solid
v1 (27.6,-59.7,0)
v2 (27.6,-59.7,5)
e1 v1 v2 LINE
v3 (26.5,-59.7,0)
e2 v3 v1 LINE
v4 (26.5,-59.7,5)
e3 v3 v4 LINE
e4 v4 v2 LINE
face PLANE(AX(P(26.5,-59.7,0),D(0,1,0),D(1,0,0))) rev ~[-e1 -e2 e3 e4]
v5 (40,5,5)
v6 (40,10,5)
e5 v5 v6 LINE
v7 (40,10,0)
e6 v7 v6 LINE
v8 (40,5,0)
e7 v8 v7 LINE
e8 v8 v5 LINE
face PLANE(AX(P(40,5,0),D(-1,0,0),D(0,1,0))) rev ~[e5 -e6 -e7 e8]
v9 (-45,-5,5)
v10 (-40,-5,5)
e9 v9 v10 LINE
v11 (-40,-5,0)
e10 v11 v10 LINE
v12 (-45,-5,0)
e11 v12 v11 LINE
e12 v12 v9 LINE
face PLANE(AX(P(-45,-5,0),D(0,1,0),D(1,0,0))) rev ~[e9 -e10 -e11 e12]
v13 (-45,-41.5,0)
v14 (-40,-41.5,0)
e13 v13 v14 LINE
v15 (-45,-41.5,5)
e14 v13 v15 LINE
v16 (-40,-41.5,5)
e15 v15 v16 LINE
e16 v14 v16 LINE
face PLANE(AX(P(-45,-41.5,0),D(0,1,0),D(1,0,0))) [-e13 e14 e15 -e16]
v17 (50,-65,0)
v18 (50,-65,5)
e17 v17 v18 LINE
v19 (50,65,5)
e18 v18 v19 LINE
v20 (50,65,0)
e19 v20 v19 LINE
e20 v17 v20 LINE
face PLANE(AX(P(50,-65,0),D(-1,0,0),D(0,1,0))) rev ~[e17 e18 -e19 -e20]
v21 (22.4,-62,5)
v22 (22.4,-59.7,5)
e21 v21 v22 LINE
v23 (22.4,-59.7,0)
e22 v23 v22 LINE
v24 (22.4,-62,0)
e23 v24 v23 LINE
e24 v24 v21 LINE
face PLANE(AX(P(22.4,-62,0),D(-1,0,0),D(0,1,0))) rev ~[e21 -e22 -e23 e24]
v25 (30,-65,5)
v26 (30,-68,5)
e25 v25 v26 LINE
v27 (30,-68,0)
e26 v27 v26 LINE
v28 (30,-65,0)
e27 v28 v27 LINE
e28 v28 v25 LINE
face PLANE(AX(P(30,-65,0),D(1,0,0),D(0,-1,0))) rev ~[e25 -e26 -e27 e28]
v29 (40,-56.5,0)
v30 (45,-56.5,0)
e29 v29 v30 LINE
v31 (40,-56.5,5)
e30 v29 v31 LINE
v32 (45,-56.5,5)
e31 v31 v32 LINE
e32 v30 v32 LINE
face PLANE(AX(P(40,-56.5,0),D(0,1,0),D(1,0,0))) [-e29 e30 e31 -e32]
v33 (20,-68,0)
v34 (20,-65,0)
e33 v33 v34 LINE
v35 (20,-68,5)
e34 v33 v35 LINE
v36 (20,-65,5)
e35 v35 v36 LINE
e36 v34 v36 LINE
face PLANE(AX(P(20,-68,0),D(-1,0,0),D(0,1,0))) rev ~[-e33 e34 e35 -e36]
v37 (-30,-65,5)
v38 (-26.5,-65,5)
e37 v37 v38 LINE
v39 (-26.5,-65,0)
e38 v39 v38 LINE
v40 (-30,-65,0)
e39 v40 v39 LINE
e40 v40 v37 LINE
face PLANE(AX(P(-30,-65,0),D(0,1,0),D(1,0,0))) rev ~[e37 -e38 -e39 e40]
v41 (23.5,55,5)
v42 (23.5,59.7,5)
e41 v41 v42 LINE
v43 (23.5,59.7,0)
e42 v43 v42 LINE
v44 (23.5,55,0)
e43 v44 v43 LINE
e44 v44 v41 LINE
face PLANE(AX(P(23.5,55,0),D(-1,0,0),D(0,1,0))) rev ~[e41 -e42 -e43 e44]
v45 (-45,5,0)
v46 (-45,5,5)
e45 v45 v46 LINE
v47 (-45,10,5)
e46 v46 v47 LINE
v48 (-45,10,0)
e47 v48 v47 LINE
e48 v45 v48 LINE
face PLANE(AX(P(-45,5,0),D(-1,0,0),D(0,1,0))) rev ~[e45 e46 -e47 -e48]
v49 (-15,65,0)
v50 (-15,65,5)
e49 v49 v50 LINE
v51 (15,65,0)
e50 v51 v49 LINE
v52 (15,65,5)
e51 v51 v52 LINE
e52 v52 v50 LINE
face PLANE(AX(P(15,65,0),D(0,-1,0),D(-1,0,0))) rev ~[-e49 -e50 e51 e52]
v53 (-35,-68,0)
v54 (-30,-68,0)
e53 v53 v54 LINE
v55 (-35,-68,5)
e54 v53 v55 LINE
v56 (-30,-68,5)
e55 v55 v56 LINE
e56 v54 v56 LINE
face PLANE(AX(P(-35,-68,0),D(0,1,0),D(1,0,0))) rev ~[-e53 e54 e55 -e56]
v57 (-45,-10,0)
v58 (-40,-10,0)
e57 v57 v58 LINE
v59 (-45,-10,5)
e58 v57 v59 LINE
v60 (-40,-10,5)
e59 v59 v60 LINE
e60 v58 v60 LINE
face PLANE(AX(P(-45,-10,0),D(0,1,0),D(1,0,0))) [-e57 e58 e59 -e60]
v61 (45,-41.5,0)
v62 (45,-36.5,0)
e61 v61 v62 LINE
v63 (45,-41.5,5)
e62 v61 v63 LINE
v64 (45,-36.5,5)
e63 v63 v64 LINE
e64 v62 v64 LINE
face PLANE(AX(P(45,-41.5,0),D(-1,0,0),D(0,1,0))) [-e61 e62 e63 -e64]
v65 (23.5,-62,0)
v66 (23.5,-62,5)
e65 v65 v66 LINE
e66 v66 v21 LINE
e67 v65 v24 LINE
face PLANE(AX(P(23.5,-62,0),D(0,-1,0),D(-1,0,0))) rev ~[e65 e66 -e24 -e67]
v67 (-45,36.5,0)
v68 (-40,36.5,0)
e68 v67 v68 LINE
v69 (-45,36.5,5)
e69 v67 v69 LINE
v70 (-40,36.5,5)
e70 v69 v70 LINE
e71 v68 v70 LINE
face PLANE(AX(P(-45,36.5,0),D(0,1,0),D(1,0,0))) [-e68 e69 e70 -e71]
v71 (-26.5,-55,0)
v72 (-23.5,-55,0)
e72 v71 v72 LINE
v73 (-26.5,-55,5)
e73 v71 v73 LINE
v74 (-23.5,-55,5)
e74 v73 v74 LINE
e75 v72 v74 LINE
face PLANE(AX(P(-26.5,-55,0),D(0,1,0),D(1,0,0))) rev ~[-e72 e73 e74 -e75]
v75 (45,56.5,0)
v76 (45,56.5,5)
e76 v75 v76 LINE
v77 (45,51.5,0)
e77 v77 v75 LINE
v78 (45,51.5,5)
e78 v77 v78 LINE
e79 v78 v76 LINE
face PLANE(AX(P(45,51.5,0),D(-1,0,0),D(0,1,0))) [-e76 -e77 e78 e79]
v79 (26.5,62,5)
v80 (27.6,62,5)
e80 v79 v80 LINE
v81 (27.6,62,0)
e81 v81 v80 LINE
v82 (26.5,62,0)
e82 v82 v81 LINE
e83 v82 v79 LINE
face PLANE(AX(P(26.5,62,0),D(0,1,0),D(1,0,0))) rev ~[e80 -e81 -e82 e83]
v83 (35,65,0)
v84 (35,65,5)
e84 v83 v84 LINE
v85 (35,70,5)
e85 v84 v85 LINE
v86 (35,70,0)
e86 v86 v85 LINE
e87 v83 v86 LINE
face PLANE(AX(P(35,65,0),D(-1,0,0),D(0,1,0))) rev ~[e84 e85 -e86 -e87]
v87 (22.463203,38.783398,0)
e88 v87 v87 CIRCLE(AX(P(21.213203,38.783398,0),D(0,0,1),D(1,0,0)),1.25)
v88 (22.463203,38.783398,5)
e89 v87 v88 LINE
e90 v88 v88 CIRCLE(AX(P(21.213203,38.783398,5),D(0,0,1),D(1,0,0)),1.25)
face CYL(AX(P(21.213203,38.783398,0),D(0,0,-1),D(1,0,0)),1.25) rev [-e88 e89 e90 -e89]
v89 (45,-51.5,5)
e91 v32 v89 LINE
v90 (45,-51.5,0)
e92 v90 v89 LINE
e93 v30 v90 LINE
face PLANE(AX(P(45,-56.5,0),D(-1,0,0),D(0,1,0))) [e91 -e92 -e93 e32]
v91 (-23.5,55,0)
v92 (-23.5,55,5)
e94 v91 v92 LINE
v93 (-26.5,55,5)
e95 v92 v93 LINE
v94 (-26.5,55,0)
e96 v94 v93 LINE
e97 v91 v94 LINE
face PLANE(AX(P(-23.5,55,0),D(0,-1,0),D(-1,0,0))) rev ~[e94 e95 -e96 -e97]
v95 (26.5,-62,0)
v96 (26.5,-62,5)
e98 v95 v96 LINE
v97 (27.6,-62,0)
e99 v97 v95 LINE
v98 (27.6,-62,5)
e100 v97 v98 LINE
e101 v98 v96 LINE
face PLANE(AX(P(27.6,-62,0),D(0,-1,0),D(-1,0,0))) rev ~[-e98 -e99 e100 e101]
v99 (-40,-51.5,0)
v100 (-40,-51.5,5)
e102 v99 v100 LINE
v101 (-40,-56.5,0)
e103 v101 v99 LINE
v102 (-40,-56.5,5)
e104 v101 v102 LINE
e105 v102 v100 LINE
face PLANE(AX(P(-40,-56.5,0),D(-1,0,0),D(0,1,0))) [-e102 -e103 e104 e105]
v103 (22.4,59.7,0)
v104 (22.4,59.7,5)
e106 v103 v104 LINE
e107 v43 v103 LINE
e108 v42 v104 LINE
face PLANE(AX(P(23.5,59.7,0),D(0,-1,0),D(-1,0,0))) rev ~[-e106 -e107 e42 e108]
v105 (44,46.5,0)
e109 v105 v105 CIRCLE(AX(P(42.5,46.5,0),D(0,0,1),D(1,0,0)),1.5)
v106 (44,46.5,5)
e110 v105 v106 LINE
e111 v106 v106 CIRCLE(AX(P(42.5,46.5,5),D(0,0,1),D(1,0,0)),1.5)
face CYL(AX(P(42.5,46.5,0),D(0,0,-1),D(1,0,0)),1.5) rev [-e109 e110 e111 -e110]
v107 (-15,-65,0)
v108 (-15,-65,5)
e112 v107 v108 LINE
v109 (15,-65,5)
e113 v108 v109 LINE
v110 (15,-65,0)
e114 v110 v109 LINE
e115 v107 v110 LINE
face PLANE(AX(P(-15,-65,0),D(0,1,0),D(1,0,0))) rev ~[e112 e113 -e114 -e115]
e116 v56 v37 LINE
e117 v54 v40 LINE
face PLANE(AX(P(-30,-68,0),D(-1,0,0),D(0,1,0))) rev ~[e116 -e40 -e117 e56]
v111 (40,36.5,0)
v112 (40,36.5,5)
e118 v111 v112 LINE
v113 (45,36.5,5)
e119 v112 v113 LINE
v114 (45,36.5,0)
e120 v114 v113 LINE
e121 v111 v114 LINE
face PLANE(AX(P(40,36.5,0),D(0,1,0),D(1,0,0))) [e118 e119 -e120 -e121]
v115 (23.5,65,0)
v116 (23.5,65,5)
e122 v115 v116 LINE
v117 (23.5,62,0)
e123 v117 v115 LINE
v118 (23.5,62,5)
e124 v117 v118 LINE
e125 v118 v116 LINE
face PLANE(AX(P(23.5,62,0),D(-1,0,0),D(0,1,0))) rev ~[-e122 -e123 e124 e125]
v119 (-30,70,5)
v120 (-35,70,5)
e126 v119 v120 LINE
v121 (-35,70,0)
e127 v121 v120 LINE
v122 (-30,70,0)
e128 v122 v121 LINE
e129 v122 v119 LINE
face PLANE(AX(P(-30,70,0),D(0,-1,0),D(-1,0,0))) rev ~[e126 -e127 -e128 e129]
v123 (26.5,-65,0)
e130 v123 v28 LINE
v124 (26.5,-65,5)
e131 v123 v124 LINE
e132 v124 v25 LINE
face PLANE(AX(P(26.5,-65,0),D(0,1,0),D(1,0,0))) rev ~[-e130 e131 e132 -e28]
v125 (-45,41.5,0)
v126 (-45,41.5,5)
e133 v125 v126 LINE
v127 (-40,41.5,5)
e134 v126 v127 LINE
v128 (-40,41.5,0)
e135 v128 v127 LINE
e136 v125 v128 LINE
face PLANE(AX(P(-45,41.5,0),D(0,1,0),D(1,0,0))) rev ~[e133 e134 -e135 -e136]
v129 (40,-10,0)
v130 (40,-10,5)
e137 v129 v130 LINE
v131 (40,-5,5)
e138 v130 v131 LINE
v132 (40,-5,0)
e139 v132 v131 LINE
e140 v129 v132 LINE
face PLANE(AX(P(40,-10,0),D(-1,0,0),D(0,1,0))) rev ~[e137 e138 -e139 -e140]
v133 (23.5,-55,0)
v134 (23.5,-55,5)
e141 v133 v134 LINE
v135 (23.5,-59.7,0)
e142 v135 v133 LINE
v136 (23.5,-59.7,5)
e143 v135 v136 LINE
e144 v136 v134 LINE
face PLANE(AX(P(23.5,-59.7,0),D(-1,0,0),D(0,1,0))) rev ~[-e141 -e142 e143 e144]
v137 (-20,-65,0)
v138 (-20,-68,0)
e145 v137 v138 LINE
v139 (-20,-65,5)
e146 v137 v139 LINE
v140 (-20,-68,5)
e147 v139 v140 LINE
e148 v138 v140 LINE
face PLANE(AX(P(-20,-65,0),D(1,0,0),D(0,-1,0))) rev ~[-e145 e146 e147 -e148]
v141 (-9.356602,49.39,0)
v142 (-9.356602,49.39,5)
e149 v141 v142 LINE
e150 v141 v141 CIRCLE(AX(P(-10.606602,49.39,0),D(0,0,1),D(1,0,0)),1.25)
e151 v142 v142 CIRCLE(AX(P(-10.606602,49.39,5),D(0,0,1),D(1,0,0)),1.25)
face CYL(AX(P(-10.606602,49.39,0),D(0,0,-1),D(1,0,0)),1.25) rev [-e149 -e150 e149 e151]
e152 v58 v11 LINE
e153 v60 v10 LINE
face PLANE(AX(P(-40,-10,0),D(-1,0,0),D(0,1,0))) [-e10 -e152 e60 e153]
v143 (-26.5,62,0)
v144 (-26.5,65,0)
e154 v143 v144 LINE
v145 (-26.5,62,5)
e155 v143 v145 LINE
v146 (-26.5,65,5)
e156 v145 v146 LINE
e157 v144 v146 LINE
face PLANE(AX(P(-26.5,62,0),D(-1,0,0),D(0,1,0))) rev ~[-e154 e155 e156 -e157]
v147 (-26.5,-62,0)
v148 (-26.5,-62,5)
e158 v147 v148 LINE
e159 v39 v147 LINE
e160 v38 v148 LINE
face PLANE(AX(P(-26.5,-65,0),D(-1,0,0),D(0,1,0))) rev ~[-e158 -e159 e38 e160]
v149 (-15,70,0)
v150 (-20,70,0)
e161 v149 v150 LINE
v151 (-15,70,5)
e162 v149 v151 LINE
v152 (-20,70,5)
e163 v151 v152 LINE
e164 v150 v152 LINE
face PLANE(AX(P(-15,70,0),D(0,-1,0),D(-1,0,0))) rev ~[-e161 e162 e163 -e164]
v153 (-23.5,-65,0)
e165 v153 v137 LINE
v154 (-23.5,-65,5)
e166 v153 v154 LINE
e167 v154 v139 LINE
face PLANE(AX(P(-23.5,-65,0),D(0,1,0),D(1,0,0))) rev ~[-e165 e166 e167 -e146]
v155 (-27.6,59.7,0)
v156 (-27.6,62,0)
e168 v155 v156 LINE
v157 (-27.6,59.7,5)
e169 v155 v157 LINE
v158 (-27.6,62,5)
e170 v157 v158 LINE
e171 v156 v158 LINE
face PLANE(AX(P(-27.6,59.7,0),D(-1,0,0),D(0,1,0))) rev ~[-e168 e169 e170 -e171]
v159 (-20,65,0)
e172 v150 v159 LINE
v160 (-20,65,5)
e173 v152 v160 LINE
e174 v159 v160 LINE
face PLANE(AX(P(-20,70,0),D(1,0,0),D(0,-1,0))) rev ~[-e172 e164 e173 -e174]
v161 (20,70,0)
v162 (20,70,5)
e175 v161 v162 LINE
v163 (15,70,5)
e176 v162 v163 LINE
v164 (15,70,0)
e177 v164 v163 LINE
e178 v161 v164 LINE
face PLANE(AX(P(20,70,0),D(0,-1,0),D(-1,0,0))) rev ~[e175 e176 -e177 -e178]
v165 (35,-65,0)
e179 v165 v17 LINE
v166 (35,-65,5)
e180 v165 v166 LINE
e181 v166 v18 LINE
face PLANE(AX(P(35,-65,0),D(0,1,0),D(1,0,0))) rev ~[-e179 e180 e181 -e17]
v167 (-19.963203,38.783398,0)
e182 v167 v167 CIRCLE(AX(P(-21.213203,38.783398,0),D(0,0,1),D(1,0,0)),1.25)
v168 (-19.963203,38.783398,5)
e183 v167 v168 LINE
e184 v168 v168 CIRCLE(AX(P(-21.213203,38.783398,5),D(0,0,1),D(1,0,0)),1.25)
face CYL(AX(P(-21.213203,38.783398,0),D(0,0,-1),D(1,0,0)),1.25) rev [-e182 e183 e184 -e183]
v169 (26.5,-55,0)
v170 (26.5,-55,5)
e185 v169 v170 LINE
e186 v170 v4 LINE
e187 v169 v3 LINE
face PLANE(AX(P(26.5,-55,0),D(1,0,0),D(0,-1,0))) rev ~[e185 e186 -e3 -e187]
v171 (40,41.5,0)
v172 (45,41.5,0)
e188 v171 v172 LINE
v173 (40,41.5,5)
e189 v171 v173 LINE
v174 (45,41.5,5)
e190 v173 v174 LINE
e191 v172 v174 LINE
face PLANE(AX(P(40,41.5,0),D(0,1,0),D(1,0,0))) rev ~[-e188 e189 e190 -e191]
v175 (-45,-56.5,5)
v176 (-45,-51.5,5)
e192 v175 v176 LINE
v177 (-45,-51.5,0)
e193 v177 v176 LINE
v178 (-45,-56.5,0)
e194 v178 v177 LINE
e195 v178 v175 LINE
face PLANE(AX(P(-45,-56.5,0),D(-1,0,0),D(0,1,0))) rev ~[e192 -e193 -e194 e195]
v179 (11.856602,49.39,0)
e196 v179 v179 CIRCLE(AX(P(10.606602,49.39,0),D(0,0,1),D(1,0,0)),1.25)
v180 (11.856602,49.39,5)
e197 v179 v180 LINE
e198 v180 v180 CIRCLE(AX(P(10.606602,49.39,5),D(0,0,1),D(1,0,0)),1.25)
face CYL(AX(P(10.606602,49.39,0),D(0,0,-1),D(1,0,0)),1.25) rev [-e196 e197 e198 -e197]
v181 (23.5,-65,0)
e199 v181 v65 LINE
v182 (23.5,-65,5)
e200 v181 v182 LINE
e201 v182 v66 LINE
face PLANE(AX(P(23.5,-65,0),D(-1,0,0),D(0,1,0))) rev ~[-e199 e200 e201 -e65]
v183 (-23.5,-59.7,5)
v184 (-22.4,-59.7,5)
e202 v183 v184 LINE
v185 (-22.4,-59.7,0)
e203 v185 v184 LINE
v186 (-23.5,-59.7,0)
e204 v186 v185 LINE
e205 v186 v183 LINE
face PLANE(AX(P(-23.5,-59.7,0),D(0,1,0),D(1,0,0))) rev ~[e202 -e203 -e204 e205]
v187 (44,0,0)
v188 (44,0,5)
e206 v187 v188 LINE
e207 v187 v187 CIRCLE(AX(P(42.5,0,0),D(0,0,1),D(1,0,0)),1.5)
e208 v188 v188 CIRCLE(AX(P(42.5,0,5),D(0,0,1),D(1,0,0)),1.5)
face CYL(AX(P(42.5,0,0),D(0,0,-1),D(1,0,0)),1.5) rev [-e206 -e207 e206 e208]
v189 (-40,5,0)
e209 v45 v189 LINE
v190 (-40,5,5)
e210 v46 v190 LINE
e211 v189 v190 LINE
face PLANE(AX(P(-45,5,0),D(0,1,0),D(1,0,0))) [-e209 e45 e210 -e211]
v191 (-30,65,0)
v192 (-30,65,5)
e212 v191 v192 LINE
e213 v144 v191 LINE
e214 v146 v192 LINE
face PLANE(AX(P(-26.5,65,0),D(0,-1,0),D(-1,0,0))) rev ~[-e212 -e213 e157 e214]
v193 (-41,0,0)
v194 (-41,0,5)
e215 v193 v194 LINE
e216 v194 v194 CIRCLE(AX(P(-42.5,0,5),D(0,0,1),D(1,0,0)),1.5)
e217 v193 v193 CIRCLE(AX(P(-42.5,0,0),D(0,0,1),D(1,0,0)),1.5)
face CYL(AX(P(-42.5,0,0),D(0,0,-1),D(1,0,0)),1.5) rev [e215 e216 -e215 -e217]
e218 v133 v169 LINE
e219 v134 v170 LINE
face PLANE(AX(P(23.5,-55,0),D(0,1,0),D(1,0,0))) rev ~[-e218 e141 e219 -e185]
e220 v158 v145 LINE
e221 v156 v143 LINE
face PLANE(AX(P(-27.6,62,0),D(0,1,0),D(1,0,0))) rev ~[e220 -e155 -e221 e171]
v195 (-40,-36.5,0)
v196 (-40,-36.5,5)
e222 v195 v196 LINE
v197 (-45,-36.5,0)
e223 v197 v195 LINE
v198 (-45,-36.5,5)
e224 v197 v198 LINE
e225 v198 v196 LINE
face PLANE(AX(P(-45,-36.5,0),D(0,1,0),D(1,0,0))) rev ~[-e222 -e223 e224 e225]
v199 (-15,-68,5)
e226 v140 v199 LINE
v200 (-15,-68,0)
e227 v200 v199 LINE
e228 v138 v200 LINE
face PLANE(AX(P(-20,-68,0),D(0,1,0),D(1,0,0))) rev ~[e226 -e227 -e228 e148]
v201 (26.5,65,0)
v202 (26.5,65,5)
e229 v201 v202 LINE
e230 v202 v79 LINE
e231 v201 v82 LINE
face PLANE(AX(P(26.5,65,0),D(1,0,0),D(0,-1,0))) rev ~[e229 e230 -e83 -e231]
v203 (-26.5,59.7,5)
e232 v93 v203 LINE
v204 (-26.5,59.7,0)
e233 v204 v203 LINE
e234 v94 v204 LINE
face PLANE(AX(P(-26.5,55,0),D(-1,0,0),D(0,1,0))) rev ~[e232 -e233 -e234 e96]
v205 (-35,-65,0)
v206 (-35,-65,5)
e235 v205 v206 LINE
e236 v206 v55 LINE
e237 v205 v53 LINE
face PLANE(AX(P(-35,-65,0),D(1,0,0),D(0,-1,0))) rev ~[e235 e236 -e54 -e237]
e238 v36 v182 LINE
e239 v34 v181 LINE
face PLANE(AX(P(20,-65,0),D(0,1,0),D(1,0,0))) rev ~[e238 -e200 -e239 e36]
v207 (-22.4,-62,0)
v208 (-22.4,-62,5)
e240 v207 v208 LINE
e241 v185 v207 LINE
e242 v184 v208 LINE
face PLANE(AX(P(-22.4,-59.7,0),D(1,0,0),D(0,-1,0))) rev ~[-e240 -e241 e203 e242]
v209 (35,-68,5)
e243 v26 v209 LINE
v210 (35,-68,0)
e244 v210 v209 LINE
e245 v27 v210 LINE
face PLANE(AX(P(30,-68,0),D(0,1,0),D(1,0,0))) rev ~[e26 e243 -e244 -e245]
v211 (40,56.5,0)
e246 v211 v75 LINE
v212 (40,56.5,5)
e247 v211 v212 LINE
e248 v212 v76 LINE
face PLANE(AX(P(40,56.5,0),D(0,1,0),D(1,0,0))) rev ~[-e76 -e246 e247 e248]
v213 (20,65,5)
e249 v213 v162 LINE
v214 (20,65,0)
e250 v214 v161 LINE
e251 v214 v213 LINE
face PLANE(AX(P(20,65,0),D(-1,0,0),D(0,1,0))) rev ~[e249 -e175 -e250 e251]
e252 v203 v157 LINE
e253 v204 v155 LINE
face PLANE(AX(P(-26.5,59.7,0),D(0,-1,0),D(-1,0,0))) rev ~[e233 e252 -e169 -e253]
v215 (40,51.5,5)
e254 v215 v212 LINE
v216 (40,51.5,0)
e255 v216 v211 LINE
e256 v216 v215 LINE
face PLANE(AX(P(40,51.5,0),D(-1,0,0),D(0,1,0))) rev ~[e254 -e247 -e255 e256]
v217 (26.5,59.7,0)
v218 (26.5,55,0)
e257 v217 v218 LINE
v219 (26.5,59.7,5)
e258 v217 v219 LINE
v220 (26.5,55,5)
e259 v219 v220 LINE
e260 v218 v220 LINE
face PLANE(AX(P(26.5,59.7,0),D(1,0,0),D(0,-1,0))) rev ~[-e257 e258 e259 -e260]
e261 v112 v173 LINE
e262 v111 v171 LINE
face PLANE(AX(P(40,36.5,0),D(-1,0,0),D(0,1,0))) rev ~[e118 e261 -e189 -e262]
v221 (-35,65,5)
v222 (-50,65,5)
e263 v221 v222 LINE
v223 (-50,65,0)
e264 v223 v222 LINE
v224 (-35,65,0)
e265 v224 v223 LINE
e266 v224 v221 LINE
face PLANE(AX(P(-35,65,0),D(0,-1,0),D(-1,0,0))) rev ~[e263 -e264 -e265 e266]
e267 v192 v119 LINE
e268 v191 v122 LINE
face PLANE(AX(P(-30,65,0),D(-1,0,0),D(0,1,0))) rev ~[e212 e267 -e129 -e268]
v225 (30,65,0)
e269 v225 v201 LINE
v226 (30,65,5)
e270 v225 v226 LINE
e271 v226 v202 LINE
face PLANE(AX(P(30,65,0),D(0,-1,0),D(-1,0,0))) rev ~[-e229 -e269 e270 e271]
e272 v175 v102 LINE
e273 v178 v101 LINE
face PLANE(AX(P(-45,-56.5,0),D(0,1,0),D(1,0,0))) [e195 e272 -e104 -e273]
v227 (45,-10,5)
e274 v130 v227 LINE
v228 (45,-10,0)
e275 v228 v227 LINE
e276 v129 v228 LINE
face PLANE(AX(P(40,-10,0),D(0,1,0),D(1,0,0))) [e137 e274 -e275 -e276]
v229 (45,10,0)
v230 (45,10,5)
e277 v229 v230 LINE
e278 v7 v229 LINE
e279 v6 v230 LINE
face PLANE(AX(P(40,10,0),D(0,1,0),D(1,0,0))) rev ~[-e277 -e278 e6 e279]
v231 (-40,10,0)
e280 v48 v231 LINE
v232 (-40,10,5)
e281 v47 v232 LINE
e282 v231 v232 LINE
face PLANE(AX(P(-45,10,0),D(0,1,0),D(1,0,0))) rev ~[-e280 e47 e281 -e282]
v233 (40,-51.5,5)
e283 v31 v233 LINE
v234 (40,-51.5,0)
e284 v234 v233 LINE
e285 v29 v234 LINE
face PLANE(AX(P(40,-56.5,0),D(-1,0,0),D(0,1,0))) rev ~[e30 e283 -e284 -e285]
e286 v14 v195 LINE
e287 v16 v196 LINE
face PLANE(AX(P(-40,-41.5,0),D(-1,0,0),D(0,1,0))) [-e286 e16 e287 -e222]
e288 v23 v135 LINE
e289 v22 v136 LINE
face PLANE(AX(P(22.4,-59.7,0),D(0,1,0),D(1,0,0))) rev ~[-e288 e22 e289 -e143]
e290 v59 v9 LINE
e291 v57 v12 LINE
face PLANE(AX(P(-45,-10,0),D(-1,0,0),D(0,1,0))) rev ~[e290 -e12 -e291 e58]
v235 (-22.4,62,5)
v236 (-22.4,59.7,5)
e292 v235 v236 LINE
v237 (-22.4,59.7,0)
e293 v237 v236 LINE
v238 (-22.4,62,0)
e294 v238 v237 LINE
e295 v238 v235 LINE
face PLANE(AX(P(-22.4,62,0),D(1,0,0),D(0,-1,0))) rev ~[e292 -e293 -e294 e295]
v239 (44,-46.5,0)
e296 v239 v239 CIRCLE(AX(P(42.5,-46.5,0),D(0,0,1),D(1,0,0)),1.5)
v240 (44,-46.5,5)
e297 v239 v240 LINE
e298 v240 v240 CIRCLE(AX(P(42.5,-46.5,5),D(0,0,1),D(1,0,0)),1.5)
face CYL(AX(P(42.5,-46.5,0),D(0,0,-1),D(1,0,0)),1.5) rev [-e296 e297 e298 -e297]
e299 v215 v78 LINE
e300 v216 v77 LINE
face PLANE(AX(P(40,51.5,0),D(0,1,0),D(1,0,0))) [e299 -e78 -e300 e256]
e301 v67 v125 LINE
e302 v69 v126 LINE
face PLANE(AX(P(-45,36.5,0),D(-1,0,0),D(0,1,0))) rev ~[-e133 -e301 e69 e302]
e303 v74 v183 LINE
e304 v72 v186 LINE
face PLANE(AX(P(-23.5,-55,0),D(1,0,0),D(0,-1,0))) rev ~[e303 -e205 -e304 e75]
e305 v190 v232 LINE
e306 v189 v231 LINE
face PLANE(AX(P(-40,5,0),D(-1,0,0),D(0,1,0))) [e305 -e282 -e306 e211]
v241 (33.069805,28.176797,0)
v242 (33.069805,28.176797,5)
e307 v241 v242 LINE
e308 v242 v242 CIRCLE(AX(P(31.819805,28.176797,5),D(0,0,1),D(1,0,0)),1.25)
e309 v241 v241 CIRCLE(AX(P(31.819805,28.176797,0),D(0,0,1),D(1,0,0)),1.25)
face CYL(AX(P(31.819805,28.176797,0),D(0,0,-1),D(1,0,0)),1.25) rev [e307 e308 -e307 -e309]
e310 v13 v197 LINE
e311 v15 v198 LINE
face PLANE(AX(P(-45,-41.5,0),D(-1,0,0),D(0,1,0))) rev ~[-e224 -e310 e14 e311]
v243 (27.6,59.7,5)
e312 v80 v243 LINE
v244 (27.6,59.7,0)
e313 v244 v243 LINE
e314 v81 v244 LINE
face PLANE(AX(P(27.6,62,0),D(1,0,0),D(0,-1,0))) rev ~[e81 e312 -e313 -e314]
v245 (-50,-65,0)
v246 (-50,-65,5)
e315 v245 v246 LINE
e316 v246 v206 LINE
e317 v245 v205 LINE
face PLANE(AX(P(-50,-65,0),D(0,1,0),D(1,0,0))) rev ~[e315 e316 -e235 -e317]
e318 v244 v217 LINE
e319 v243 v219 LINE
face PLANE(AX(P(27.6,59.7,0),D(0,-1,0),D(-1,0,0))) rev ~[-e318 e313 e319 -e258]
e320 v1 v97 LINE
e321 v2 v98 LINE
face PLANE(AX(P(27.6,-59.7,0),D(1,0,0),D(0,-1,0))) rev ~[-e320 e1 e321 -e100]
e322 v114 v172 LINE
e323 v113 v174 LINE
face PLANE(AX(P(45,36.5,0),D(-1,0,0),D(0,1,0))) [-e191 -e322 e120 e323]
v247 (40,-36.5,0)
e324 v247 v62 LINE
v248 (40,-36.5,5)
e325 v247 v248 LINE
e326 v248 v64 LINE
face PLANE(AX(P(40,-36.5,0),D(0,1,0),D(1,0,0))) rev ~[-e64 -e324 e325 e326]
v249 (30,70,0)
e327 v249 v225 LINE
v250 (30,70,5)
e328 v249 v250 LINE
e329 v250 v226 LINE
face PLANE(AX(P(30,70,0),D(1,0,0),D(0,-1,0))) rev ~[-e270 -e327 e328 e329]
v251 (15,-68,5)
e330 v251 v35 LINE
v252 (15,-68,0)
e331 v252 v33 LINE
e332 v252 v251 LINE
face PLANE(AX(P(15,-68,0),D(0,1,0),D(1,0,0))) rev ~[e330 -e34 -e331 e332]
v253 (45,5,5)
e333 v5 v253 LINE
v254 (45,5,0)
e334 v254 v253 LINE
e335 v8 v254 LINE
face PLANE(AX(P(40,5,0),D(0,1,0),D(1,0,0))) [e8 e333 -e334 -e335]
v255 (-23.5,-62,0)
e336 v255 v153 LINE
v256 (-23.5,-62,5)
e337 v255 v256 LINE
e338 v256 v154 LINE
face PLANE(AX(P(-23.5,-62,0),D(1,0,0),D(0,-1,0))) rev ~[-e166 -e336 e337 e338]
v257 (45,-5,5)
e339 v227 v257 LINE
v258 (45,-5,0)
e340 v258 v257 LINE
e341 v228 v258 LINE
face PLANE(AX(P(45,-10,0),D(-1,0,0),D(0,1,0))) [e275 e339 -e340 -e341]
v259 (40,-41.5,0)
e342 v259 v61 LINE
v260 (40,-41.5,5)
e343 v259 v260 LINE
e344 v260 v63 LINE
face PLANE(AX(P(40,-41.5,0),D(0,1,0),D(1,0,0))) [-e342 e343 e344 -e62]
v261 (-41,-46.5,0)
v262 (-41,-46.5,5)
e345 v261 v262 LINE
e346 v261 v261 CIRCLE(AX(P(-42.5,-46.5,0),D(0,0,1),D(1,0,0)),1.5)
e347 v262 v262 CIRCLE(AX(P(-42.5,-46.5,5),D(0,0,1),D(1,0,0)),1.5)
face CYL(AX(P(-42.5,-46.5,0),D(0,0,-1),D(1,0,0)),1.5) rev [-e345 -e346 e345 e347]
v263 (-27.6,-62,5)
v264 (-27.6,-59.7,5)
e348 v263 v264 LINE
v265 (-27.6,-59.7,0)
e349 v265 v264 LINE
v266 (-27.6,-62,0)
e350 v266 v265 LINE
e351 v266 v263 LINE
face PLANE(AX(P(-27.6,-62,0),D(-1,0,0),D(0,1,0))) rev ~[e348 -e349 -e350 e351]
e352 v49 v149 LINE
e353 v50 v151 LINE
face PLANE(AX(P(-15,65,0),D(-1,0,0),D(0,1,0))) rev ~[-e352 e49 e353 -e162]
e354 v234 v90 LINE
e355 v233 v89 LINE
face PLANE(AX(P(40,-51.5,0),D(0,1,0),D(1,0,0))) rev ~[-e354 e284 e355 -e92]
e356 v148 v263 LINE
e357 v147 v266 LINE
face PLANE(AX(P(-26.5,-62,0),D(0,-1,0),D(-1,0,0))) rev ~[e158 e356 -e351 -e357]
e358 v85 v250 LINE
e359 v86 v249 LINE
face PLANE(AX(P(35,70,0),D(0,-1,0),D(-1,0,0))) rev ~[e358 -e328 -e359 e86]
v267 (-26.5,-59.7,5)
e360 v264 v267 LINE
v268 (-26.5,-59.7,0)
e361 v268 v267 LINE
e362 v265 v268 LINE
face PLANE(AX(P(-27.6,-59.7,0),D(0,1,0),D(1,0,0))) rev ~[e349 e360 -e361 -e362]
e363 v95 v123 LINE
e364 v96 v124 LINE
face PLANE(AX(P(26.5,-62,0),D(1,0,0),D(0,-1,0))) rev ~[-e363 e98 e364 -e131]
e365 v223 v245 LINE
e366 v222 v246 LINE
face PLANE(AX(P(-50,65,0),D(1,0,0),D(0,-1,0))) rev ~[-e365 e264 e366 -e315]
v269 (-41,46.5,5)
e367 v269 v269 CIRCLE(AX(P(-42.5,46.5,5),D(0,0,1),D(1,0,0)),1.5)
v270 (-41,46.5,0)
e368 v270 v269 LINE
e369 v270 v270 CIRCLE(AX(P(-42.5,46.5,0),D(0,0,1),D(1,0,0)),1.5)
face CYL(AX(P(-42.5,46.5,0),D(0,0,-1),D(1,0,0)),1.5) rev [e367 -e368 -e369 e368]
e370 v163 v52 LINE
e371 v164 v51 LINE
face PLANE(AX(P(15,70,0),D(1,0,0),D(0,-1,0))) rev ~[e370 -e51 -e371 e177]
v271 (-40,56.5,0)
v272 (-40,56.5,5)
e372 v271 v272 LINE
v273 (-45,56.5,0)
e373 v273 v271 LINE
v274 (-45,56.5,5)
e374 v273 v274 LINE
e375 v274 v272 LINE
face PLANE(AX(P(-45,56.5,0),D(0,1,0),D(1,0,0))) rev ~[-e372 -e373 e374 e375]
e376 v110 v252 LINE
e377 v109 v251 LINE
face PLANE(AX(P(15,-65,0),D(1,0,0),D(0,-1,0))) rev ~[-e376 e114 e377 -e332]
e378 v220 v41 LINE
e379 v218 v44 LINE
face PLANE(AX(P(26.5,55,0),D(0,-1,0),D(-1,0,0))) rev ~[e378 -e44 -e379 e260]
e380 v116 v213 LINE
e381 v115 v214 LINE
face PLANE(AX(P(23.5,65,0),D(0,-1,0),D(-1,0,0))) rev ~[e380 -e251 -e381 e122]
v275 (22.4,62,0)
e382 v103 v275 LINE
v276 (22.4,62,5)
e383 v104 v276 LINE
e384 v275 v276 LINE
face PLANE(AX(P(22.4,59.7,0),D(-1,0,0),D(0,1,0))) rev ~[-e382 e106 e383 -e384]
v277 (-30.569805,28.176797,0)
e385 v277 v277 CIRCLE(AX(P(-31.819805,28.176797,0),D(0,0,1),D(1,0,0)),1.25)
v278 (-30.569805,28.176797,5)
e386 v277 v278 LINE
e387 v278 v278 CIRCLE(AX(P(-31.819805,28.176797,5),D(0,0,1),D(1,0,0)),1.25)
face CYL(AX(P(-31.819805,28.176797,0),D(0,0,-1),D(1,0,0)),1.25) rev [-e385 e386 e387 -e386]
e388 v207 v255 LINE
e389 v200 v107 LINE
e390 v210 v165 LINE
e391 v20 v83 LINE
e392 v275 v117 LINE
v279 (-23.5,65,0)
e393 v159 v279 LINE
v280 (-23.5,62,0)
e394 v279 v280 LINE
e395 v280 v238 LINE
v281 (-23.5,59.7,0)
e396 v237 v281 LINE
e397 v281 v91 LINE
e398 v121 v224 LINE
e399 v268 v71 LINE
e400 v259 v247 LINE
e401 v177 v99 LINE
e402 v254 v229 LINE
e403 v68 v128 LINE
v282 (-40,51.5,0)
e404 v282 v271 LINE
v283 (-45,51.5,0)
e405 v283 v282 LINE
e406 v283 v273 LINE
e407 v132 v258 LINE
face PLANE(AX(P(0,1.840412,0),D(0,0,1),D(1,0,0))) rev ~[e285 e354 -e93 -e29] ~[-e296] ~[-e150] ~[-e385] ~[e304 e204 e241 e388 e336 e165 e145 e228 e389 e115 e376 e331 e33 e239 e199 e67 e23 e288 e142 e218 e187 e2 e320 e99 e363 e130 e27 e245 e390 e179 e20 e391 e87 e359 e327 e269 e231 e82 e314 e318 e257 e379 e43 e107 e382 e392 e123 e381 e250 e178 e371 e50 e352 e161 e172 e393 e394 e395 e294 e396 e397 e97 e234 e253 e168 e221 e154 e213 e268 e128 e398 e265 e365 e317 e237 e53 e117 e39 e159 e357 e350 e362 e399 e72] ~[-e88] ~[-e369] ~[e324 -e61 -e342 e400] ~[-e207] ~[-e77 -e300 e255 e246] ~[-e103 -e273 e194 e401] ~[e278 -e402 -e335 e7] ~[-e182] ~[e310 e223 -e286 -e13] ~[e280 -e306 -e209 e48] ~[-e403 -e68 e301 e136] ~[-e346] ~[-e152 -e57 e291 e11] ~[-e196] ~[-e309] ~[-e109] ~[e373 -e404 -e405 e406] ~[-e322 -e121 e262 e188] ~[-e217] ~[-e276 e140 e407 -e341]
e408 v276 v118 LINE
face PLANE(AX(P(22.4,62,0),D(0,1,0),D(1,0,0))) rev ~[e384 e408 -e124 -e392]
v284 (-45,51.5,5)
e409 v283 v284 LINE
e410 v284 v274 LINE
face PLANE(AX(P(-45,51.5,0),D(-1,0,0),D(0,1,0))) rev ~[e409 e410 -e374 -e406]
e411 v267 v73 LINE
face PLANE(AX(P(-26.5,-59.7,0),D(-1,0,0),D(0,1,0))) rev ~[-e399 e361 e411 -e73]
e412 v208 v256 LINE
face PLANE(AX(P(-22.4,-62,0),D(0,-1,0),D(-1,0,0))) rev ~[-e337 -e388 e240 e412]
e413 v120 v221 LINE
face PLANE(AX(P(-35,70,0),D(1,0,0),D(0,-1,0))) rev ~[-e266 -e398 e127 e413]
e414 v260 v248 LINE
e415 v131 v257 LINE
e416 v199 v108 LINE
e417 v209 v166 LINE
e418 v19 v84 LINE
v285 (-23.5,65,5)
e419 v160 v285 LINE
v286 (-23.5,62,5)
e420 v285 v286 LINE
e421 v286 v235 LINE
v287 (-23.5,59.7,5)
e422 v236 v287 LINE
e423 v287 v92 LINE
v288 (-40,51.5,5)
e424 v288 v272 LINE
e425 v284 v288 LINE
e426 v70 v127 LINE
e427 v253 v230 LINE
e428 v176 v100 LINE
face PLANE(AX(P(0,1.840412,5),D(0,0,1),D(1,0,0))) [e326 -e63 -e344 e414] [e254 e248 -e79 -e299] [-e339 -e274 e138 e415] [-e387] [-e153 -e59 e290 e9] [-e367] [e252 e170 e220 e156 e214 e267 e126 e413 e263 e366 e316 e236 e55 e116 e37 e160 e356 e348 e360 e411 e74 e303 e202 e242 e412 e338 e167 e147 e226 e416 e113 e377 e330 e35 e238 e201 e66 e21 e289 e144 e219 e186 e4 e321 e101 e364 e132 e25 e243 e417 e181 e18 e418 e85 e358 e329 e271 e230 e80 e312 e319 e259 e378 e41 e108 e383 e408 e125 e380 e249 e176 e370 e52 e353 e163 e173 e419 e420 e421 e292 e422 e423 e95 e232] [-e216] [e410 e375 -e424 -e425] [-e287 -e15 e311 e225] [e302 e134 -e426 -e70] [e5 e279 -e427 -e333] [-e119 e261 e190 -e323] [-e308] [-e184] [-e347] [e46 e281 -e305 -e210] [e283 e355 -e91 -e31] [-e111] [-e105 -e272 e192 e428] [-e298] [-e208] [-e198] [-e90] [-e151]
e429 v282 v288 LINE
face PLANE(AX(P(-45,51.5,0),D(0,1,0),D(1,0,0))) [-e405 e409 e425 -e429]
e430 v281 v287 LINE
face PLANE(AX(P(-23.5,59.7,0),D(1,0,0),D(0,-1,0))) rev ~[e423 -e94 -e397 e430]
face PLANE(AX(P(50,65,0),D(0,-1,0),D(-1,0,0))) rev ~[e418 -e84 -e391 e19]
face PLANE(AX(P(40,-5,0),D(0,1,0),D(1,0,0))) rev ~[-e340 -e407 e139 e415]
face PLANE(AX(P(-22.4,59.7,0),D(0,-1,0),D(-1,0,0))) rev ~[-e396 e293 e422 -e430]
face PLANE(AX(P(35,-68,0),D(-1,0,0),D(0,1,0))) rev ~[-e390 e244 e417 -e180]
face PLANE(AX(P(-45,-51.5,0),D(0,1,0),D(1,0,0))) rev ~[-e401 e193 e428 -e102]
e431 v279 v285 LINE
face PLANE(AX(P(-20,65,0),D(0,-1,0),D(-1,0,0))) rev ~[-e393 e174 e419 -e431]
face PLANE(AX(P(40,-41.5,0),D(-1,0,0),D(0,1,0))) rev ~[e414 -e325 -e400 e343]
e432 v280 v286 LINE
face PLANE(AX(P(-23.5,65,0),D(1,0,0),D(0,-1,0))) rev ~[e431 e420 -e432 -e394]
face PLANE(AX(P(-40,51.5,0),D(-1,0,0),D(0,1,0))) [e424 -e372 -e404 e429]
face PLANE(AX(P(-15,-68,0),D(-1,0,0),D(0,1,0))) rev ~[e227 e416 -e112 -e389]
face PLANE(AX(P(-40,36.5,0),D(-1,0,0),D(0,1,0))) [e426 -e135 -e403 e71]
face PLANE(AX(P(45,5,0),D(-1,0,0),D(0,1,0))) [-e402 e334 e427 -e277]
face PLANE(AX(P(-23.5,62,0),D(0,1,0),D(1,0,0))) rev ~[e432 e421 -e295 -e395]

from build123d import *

# Parameters (mm, degrees)
SKETCH1_W           = 5
SKETCH1_H           = 5
SKETCH1_R           = 1.5
SKETCH1_R_2         = 1.25
BOSS_EXTRUDE1_DEPTH = 5


with BuildPart() as part:
    # Sketch1 → Boss-Extrude1 (new body)
    with BuildSketch(Plane.XY):
        Polygon((-50, 65), (-50, -65), (-35, -65), (-35, -68), (-30, -68), (-30, -65), (-26.5, -65), (-26.5, -62), (-27.6, -62), (-27.6, -59.7), (-26.5, -59.7), (-26.5, -55), (-23.5, -55), (-23.5, -59.7), (-22.4, -59.7), (-22.4, -62), (-23.5, -62), (-23.5, -65), (-20, -65), (-20, -68), (-15, -68), (-15, -65), (15, -65), (15, -68), (20, -68), (20, -65), (23.5, -65), (23.5, -62), (22.4, -62), (22.4, -59.7), (23.5, -59.7), (23.5, -55), (26.5, -55), (26.5, -59.7), (27.6, -59.7), (27.6, -62), (26.5, -62), (26.5, -65), (30, -65), (30, -68), (35, -68), (35, -65), (50, -65), (50, 65), (35, 65), (35, 70), (30, 70), (30, 65), (26.5, 65), (26.5, 62), (27.6, 62), (27.6, 59.7), (26.5, 59.7), (26.5, 55), (23.5, 55), (23.5, 59.7), (22.4, 59.7), (22.4, 62), (23.5, 62), (23.5, 65), (20, 65), (20, 70), (15, 70), (15, 65), (-15, 65), (-15, 70), (-20, 70), (-20, 65), (-23.5, 65), (-23.5, 62), (-22.4, 62), (-22.4, 59.7), (-23.5, 59.7), (-23.5, 55), (-26.5, 55), (-26.5, 59.7), (-27.6, 59.7), (-27.6, 62), (-26.5, 62), (-26.5, 65), (-30, 65), (-30, 70), (-35, 70), (-35, 65), align=None)
        with Locations((-42.5, -54)):
            Rectangle(SKETCH1_W, SKETCH1_H, mode=Mode.SUBTRACT)
        with Locations((-42.5, -46.5)):
            Circle(SKETCH1_R, mode=Mode.SUBTRACT)
        with Locations((-42.5, -39)):
            Rectangle(SKETCH1_W, SKETCH1_H, mode=Mode.SUBTRACT)
        with Locations((-42.5, -7.5)):
            Rectangle(SKETCH1_W, SKETCH1_H, mode=Mode.SUBTRACT)
        with Locations((-42.5, 0)):
            Circle(SKETCH1_R, mode=Mode.SUBTRACT)
        with Locations((42.5, -54)):
            Rectangle(SKETCH1_W, SKETCH1_H, mode=Mode.SUBTRACT)
        with Locations((42.5, -46.5)):
            Circle(SKETCH1_R, mode=Mode.SUBTRACT)
        with Locations((42.5, -39)):
            Rectangle(SKETCH1_W, SKETCH1_H, mode=Mode.SUBTRACT)
        with Locations((42.5, -7.5)):
            Rectangle(SKETCH1_W, SKETCH1_H, mode=Mode.SUBTRACT)
        with Locations((42.5, 0)):
            Circle(SKETCH1_R, mode=Mode.SUBTRACT)
        with Locations((-42.5, 7.5)):
            Rectangle(SKETCH1_W, SKETCH1_H, mode=Mode.SUBTRACT)
        with Locations((-31.819805153, 28.176796564)):
            Circle(SKETCH1_R_2, mode=Mode.SUBTRACT)
        with Locations((-42.5, 39)):
            Rectangle(SKETCH1_W, SKETCH1_H, mode=Mode.SUBTRACT)
        with Locations((-42.5, 46.5)):
            Circle(SKETCH1_R, mode=Mode.SUBTRACT)
        with Locations((-42.5, 54)):
            Rectangle(SKETCH1_W, SKETCH1_H, mode=Mode.SUBTRACT)
        with Locations((-21.213203436, 38.783398282)):
            Circle(SKETCH1_R_2, mode=Mode.SUBTRACT)
        with Locations((-10.606601718, 49.39)):
            Circle(SKETCH1_R_2, mode=Mode.SUBTRACT)
        with Locations((42.5, 7.5)):
            Rectangle(SKETCH1_W, SKETCH1_H, mode=Mode.SUBTRACT)
        with Locations((31.819805153, 28.176796564)):
            Circle(SKETCH1_R_2, mode=Mode.SUBTRACT)
        with Locations((10.606601718, 49.39)):
            Circle(SKETCH1_R_2, mode=Mode.SUBTRACT)
        with Locations((21.213203436, 38.783398282)):
            Circle(SKETCH1_R_2, mode=Mode.SUBTRACT)
        with Locations((42.5, 39)):
            Rectangle(SKETCH1_W, SKETCH1_H, mode=Mode.SUBTRACT)
        with Locations((42.5, 46.5)):
            Circle(SKETCH1_R, mode=Mode.SUBTRACT)
        with Locations((42.5, 54)):
            Rectangle(SKETCH1_W, SKETCH1_H, mode=Mode.SUBTRACT)
    extrude(amount=BOSS_EXTRUDE1_DEPTH)


solid = part.part
